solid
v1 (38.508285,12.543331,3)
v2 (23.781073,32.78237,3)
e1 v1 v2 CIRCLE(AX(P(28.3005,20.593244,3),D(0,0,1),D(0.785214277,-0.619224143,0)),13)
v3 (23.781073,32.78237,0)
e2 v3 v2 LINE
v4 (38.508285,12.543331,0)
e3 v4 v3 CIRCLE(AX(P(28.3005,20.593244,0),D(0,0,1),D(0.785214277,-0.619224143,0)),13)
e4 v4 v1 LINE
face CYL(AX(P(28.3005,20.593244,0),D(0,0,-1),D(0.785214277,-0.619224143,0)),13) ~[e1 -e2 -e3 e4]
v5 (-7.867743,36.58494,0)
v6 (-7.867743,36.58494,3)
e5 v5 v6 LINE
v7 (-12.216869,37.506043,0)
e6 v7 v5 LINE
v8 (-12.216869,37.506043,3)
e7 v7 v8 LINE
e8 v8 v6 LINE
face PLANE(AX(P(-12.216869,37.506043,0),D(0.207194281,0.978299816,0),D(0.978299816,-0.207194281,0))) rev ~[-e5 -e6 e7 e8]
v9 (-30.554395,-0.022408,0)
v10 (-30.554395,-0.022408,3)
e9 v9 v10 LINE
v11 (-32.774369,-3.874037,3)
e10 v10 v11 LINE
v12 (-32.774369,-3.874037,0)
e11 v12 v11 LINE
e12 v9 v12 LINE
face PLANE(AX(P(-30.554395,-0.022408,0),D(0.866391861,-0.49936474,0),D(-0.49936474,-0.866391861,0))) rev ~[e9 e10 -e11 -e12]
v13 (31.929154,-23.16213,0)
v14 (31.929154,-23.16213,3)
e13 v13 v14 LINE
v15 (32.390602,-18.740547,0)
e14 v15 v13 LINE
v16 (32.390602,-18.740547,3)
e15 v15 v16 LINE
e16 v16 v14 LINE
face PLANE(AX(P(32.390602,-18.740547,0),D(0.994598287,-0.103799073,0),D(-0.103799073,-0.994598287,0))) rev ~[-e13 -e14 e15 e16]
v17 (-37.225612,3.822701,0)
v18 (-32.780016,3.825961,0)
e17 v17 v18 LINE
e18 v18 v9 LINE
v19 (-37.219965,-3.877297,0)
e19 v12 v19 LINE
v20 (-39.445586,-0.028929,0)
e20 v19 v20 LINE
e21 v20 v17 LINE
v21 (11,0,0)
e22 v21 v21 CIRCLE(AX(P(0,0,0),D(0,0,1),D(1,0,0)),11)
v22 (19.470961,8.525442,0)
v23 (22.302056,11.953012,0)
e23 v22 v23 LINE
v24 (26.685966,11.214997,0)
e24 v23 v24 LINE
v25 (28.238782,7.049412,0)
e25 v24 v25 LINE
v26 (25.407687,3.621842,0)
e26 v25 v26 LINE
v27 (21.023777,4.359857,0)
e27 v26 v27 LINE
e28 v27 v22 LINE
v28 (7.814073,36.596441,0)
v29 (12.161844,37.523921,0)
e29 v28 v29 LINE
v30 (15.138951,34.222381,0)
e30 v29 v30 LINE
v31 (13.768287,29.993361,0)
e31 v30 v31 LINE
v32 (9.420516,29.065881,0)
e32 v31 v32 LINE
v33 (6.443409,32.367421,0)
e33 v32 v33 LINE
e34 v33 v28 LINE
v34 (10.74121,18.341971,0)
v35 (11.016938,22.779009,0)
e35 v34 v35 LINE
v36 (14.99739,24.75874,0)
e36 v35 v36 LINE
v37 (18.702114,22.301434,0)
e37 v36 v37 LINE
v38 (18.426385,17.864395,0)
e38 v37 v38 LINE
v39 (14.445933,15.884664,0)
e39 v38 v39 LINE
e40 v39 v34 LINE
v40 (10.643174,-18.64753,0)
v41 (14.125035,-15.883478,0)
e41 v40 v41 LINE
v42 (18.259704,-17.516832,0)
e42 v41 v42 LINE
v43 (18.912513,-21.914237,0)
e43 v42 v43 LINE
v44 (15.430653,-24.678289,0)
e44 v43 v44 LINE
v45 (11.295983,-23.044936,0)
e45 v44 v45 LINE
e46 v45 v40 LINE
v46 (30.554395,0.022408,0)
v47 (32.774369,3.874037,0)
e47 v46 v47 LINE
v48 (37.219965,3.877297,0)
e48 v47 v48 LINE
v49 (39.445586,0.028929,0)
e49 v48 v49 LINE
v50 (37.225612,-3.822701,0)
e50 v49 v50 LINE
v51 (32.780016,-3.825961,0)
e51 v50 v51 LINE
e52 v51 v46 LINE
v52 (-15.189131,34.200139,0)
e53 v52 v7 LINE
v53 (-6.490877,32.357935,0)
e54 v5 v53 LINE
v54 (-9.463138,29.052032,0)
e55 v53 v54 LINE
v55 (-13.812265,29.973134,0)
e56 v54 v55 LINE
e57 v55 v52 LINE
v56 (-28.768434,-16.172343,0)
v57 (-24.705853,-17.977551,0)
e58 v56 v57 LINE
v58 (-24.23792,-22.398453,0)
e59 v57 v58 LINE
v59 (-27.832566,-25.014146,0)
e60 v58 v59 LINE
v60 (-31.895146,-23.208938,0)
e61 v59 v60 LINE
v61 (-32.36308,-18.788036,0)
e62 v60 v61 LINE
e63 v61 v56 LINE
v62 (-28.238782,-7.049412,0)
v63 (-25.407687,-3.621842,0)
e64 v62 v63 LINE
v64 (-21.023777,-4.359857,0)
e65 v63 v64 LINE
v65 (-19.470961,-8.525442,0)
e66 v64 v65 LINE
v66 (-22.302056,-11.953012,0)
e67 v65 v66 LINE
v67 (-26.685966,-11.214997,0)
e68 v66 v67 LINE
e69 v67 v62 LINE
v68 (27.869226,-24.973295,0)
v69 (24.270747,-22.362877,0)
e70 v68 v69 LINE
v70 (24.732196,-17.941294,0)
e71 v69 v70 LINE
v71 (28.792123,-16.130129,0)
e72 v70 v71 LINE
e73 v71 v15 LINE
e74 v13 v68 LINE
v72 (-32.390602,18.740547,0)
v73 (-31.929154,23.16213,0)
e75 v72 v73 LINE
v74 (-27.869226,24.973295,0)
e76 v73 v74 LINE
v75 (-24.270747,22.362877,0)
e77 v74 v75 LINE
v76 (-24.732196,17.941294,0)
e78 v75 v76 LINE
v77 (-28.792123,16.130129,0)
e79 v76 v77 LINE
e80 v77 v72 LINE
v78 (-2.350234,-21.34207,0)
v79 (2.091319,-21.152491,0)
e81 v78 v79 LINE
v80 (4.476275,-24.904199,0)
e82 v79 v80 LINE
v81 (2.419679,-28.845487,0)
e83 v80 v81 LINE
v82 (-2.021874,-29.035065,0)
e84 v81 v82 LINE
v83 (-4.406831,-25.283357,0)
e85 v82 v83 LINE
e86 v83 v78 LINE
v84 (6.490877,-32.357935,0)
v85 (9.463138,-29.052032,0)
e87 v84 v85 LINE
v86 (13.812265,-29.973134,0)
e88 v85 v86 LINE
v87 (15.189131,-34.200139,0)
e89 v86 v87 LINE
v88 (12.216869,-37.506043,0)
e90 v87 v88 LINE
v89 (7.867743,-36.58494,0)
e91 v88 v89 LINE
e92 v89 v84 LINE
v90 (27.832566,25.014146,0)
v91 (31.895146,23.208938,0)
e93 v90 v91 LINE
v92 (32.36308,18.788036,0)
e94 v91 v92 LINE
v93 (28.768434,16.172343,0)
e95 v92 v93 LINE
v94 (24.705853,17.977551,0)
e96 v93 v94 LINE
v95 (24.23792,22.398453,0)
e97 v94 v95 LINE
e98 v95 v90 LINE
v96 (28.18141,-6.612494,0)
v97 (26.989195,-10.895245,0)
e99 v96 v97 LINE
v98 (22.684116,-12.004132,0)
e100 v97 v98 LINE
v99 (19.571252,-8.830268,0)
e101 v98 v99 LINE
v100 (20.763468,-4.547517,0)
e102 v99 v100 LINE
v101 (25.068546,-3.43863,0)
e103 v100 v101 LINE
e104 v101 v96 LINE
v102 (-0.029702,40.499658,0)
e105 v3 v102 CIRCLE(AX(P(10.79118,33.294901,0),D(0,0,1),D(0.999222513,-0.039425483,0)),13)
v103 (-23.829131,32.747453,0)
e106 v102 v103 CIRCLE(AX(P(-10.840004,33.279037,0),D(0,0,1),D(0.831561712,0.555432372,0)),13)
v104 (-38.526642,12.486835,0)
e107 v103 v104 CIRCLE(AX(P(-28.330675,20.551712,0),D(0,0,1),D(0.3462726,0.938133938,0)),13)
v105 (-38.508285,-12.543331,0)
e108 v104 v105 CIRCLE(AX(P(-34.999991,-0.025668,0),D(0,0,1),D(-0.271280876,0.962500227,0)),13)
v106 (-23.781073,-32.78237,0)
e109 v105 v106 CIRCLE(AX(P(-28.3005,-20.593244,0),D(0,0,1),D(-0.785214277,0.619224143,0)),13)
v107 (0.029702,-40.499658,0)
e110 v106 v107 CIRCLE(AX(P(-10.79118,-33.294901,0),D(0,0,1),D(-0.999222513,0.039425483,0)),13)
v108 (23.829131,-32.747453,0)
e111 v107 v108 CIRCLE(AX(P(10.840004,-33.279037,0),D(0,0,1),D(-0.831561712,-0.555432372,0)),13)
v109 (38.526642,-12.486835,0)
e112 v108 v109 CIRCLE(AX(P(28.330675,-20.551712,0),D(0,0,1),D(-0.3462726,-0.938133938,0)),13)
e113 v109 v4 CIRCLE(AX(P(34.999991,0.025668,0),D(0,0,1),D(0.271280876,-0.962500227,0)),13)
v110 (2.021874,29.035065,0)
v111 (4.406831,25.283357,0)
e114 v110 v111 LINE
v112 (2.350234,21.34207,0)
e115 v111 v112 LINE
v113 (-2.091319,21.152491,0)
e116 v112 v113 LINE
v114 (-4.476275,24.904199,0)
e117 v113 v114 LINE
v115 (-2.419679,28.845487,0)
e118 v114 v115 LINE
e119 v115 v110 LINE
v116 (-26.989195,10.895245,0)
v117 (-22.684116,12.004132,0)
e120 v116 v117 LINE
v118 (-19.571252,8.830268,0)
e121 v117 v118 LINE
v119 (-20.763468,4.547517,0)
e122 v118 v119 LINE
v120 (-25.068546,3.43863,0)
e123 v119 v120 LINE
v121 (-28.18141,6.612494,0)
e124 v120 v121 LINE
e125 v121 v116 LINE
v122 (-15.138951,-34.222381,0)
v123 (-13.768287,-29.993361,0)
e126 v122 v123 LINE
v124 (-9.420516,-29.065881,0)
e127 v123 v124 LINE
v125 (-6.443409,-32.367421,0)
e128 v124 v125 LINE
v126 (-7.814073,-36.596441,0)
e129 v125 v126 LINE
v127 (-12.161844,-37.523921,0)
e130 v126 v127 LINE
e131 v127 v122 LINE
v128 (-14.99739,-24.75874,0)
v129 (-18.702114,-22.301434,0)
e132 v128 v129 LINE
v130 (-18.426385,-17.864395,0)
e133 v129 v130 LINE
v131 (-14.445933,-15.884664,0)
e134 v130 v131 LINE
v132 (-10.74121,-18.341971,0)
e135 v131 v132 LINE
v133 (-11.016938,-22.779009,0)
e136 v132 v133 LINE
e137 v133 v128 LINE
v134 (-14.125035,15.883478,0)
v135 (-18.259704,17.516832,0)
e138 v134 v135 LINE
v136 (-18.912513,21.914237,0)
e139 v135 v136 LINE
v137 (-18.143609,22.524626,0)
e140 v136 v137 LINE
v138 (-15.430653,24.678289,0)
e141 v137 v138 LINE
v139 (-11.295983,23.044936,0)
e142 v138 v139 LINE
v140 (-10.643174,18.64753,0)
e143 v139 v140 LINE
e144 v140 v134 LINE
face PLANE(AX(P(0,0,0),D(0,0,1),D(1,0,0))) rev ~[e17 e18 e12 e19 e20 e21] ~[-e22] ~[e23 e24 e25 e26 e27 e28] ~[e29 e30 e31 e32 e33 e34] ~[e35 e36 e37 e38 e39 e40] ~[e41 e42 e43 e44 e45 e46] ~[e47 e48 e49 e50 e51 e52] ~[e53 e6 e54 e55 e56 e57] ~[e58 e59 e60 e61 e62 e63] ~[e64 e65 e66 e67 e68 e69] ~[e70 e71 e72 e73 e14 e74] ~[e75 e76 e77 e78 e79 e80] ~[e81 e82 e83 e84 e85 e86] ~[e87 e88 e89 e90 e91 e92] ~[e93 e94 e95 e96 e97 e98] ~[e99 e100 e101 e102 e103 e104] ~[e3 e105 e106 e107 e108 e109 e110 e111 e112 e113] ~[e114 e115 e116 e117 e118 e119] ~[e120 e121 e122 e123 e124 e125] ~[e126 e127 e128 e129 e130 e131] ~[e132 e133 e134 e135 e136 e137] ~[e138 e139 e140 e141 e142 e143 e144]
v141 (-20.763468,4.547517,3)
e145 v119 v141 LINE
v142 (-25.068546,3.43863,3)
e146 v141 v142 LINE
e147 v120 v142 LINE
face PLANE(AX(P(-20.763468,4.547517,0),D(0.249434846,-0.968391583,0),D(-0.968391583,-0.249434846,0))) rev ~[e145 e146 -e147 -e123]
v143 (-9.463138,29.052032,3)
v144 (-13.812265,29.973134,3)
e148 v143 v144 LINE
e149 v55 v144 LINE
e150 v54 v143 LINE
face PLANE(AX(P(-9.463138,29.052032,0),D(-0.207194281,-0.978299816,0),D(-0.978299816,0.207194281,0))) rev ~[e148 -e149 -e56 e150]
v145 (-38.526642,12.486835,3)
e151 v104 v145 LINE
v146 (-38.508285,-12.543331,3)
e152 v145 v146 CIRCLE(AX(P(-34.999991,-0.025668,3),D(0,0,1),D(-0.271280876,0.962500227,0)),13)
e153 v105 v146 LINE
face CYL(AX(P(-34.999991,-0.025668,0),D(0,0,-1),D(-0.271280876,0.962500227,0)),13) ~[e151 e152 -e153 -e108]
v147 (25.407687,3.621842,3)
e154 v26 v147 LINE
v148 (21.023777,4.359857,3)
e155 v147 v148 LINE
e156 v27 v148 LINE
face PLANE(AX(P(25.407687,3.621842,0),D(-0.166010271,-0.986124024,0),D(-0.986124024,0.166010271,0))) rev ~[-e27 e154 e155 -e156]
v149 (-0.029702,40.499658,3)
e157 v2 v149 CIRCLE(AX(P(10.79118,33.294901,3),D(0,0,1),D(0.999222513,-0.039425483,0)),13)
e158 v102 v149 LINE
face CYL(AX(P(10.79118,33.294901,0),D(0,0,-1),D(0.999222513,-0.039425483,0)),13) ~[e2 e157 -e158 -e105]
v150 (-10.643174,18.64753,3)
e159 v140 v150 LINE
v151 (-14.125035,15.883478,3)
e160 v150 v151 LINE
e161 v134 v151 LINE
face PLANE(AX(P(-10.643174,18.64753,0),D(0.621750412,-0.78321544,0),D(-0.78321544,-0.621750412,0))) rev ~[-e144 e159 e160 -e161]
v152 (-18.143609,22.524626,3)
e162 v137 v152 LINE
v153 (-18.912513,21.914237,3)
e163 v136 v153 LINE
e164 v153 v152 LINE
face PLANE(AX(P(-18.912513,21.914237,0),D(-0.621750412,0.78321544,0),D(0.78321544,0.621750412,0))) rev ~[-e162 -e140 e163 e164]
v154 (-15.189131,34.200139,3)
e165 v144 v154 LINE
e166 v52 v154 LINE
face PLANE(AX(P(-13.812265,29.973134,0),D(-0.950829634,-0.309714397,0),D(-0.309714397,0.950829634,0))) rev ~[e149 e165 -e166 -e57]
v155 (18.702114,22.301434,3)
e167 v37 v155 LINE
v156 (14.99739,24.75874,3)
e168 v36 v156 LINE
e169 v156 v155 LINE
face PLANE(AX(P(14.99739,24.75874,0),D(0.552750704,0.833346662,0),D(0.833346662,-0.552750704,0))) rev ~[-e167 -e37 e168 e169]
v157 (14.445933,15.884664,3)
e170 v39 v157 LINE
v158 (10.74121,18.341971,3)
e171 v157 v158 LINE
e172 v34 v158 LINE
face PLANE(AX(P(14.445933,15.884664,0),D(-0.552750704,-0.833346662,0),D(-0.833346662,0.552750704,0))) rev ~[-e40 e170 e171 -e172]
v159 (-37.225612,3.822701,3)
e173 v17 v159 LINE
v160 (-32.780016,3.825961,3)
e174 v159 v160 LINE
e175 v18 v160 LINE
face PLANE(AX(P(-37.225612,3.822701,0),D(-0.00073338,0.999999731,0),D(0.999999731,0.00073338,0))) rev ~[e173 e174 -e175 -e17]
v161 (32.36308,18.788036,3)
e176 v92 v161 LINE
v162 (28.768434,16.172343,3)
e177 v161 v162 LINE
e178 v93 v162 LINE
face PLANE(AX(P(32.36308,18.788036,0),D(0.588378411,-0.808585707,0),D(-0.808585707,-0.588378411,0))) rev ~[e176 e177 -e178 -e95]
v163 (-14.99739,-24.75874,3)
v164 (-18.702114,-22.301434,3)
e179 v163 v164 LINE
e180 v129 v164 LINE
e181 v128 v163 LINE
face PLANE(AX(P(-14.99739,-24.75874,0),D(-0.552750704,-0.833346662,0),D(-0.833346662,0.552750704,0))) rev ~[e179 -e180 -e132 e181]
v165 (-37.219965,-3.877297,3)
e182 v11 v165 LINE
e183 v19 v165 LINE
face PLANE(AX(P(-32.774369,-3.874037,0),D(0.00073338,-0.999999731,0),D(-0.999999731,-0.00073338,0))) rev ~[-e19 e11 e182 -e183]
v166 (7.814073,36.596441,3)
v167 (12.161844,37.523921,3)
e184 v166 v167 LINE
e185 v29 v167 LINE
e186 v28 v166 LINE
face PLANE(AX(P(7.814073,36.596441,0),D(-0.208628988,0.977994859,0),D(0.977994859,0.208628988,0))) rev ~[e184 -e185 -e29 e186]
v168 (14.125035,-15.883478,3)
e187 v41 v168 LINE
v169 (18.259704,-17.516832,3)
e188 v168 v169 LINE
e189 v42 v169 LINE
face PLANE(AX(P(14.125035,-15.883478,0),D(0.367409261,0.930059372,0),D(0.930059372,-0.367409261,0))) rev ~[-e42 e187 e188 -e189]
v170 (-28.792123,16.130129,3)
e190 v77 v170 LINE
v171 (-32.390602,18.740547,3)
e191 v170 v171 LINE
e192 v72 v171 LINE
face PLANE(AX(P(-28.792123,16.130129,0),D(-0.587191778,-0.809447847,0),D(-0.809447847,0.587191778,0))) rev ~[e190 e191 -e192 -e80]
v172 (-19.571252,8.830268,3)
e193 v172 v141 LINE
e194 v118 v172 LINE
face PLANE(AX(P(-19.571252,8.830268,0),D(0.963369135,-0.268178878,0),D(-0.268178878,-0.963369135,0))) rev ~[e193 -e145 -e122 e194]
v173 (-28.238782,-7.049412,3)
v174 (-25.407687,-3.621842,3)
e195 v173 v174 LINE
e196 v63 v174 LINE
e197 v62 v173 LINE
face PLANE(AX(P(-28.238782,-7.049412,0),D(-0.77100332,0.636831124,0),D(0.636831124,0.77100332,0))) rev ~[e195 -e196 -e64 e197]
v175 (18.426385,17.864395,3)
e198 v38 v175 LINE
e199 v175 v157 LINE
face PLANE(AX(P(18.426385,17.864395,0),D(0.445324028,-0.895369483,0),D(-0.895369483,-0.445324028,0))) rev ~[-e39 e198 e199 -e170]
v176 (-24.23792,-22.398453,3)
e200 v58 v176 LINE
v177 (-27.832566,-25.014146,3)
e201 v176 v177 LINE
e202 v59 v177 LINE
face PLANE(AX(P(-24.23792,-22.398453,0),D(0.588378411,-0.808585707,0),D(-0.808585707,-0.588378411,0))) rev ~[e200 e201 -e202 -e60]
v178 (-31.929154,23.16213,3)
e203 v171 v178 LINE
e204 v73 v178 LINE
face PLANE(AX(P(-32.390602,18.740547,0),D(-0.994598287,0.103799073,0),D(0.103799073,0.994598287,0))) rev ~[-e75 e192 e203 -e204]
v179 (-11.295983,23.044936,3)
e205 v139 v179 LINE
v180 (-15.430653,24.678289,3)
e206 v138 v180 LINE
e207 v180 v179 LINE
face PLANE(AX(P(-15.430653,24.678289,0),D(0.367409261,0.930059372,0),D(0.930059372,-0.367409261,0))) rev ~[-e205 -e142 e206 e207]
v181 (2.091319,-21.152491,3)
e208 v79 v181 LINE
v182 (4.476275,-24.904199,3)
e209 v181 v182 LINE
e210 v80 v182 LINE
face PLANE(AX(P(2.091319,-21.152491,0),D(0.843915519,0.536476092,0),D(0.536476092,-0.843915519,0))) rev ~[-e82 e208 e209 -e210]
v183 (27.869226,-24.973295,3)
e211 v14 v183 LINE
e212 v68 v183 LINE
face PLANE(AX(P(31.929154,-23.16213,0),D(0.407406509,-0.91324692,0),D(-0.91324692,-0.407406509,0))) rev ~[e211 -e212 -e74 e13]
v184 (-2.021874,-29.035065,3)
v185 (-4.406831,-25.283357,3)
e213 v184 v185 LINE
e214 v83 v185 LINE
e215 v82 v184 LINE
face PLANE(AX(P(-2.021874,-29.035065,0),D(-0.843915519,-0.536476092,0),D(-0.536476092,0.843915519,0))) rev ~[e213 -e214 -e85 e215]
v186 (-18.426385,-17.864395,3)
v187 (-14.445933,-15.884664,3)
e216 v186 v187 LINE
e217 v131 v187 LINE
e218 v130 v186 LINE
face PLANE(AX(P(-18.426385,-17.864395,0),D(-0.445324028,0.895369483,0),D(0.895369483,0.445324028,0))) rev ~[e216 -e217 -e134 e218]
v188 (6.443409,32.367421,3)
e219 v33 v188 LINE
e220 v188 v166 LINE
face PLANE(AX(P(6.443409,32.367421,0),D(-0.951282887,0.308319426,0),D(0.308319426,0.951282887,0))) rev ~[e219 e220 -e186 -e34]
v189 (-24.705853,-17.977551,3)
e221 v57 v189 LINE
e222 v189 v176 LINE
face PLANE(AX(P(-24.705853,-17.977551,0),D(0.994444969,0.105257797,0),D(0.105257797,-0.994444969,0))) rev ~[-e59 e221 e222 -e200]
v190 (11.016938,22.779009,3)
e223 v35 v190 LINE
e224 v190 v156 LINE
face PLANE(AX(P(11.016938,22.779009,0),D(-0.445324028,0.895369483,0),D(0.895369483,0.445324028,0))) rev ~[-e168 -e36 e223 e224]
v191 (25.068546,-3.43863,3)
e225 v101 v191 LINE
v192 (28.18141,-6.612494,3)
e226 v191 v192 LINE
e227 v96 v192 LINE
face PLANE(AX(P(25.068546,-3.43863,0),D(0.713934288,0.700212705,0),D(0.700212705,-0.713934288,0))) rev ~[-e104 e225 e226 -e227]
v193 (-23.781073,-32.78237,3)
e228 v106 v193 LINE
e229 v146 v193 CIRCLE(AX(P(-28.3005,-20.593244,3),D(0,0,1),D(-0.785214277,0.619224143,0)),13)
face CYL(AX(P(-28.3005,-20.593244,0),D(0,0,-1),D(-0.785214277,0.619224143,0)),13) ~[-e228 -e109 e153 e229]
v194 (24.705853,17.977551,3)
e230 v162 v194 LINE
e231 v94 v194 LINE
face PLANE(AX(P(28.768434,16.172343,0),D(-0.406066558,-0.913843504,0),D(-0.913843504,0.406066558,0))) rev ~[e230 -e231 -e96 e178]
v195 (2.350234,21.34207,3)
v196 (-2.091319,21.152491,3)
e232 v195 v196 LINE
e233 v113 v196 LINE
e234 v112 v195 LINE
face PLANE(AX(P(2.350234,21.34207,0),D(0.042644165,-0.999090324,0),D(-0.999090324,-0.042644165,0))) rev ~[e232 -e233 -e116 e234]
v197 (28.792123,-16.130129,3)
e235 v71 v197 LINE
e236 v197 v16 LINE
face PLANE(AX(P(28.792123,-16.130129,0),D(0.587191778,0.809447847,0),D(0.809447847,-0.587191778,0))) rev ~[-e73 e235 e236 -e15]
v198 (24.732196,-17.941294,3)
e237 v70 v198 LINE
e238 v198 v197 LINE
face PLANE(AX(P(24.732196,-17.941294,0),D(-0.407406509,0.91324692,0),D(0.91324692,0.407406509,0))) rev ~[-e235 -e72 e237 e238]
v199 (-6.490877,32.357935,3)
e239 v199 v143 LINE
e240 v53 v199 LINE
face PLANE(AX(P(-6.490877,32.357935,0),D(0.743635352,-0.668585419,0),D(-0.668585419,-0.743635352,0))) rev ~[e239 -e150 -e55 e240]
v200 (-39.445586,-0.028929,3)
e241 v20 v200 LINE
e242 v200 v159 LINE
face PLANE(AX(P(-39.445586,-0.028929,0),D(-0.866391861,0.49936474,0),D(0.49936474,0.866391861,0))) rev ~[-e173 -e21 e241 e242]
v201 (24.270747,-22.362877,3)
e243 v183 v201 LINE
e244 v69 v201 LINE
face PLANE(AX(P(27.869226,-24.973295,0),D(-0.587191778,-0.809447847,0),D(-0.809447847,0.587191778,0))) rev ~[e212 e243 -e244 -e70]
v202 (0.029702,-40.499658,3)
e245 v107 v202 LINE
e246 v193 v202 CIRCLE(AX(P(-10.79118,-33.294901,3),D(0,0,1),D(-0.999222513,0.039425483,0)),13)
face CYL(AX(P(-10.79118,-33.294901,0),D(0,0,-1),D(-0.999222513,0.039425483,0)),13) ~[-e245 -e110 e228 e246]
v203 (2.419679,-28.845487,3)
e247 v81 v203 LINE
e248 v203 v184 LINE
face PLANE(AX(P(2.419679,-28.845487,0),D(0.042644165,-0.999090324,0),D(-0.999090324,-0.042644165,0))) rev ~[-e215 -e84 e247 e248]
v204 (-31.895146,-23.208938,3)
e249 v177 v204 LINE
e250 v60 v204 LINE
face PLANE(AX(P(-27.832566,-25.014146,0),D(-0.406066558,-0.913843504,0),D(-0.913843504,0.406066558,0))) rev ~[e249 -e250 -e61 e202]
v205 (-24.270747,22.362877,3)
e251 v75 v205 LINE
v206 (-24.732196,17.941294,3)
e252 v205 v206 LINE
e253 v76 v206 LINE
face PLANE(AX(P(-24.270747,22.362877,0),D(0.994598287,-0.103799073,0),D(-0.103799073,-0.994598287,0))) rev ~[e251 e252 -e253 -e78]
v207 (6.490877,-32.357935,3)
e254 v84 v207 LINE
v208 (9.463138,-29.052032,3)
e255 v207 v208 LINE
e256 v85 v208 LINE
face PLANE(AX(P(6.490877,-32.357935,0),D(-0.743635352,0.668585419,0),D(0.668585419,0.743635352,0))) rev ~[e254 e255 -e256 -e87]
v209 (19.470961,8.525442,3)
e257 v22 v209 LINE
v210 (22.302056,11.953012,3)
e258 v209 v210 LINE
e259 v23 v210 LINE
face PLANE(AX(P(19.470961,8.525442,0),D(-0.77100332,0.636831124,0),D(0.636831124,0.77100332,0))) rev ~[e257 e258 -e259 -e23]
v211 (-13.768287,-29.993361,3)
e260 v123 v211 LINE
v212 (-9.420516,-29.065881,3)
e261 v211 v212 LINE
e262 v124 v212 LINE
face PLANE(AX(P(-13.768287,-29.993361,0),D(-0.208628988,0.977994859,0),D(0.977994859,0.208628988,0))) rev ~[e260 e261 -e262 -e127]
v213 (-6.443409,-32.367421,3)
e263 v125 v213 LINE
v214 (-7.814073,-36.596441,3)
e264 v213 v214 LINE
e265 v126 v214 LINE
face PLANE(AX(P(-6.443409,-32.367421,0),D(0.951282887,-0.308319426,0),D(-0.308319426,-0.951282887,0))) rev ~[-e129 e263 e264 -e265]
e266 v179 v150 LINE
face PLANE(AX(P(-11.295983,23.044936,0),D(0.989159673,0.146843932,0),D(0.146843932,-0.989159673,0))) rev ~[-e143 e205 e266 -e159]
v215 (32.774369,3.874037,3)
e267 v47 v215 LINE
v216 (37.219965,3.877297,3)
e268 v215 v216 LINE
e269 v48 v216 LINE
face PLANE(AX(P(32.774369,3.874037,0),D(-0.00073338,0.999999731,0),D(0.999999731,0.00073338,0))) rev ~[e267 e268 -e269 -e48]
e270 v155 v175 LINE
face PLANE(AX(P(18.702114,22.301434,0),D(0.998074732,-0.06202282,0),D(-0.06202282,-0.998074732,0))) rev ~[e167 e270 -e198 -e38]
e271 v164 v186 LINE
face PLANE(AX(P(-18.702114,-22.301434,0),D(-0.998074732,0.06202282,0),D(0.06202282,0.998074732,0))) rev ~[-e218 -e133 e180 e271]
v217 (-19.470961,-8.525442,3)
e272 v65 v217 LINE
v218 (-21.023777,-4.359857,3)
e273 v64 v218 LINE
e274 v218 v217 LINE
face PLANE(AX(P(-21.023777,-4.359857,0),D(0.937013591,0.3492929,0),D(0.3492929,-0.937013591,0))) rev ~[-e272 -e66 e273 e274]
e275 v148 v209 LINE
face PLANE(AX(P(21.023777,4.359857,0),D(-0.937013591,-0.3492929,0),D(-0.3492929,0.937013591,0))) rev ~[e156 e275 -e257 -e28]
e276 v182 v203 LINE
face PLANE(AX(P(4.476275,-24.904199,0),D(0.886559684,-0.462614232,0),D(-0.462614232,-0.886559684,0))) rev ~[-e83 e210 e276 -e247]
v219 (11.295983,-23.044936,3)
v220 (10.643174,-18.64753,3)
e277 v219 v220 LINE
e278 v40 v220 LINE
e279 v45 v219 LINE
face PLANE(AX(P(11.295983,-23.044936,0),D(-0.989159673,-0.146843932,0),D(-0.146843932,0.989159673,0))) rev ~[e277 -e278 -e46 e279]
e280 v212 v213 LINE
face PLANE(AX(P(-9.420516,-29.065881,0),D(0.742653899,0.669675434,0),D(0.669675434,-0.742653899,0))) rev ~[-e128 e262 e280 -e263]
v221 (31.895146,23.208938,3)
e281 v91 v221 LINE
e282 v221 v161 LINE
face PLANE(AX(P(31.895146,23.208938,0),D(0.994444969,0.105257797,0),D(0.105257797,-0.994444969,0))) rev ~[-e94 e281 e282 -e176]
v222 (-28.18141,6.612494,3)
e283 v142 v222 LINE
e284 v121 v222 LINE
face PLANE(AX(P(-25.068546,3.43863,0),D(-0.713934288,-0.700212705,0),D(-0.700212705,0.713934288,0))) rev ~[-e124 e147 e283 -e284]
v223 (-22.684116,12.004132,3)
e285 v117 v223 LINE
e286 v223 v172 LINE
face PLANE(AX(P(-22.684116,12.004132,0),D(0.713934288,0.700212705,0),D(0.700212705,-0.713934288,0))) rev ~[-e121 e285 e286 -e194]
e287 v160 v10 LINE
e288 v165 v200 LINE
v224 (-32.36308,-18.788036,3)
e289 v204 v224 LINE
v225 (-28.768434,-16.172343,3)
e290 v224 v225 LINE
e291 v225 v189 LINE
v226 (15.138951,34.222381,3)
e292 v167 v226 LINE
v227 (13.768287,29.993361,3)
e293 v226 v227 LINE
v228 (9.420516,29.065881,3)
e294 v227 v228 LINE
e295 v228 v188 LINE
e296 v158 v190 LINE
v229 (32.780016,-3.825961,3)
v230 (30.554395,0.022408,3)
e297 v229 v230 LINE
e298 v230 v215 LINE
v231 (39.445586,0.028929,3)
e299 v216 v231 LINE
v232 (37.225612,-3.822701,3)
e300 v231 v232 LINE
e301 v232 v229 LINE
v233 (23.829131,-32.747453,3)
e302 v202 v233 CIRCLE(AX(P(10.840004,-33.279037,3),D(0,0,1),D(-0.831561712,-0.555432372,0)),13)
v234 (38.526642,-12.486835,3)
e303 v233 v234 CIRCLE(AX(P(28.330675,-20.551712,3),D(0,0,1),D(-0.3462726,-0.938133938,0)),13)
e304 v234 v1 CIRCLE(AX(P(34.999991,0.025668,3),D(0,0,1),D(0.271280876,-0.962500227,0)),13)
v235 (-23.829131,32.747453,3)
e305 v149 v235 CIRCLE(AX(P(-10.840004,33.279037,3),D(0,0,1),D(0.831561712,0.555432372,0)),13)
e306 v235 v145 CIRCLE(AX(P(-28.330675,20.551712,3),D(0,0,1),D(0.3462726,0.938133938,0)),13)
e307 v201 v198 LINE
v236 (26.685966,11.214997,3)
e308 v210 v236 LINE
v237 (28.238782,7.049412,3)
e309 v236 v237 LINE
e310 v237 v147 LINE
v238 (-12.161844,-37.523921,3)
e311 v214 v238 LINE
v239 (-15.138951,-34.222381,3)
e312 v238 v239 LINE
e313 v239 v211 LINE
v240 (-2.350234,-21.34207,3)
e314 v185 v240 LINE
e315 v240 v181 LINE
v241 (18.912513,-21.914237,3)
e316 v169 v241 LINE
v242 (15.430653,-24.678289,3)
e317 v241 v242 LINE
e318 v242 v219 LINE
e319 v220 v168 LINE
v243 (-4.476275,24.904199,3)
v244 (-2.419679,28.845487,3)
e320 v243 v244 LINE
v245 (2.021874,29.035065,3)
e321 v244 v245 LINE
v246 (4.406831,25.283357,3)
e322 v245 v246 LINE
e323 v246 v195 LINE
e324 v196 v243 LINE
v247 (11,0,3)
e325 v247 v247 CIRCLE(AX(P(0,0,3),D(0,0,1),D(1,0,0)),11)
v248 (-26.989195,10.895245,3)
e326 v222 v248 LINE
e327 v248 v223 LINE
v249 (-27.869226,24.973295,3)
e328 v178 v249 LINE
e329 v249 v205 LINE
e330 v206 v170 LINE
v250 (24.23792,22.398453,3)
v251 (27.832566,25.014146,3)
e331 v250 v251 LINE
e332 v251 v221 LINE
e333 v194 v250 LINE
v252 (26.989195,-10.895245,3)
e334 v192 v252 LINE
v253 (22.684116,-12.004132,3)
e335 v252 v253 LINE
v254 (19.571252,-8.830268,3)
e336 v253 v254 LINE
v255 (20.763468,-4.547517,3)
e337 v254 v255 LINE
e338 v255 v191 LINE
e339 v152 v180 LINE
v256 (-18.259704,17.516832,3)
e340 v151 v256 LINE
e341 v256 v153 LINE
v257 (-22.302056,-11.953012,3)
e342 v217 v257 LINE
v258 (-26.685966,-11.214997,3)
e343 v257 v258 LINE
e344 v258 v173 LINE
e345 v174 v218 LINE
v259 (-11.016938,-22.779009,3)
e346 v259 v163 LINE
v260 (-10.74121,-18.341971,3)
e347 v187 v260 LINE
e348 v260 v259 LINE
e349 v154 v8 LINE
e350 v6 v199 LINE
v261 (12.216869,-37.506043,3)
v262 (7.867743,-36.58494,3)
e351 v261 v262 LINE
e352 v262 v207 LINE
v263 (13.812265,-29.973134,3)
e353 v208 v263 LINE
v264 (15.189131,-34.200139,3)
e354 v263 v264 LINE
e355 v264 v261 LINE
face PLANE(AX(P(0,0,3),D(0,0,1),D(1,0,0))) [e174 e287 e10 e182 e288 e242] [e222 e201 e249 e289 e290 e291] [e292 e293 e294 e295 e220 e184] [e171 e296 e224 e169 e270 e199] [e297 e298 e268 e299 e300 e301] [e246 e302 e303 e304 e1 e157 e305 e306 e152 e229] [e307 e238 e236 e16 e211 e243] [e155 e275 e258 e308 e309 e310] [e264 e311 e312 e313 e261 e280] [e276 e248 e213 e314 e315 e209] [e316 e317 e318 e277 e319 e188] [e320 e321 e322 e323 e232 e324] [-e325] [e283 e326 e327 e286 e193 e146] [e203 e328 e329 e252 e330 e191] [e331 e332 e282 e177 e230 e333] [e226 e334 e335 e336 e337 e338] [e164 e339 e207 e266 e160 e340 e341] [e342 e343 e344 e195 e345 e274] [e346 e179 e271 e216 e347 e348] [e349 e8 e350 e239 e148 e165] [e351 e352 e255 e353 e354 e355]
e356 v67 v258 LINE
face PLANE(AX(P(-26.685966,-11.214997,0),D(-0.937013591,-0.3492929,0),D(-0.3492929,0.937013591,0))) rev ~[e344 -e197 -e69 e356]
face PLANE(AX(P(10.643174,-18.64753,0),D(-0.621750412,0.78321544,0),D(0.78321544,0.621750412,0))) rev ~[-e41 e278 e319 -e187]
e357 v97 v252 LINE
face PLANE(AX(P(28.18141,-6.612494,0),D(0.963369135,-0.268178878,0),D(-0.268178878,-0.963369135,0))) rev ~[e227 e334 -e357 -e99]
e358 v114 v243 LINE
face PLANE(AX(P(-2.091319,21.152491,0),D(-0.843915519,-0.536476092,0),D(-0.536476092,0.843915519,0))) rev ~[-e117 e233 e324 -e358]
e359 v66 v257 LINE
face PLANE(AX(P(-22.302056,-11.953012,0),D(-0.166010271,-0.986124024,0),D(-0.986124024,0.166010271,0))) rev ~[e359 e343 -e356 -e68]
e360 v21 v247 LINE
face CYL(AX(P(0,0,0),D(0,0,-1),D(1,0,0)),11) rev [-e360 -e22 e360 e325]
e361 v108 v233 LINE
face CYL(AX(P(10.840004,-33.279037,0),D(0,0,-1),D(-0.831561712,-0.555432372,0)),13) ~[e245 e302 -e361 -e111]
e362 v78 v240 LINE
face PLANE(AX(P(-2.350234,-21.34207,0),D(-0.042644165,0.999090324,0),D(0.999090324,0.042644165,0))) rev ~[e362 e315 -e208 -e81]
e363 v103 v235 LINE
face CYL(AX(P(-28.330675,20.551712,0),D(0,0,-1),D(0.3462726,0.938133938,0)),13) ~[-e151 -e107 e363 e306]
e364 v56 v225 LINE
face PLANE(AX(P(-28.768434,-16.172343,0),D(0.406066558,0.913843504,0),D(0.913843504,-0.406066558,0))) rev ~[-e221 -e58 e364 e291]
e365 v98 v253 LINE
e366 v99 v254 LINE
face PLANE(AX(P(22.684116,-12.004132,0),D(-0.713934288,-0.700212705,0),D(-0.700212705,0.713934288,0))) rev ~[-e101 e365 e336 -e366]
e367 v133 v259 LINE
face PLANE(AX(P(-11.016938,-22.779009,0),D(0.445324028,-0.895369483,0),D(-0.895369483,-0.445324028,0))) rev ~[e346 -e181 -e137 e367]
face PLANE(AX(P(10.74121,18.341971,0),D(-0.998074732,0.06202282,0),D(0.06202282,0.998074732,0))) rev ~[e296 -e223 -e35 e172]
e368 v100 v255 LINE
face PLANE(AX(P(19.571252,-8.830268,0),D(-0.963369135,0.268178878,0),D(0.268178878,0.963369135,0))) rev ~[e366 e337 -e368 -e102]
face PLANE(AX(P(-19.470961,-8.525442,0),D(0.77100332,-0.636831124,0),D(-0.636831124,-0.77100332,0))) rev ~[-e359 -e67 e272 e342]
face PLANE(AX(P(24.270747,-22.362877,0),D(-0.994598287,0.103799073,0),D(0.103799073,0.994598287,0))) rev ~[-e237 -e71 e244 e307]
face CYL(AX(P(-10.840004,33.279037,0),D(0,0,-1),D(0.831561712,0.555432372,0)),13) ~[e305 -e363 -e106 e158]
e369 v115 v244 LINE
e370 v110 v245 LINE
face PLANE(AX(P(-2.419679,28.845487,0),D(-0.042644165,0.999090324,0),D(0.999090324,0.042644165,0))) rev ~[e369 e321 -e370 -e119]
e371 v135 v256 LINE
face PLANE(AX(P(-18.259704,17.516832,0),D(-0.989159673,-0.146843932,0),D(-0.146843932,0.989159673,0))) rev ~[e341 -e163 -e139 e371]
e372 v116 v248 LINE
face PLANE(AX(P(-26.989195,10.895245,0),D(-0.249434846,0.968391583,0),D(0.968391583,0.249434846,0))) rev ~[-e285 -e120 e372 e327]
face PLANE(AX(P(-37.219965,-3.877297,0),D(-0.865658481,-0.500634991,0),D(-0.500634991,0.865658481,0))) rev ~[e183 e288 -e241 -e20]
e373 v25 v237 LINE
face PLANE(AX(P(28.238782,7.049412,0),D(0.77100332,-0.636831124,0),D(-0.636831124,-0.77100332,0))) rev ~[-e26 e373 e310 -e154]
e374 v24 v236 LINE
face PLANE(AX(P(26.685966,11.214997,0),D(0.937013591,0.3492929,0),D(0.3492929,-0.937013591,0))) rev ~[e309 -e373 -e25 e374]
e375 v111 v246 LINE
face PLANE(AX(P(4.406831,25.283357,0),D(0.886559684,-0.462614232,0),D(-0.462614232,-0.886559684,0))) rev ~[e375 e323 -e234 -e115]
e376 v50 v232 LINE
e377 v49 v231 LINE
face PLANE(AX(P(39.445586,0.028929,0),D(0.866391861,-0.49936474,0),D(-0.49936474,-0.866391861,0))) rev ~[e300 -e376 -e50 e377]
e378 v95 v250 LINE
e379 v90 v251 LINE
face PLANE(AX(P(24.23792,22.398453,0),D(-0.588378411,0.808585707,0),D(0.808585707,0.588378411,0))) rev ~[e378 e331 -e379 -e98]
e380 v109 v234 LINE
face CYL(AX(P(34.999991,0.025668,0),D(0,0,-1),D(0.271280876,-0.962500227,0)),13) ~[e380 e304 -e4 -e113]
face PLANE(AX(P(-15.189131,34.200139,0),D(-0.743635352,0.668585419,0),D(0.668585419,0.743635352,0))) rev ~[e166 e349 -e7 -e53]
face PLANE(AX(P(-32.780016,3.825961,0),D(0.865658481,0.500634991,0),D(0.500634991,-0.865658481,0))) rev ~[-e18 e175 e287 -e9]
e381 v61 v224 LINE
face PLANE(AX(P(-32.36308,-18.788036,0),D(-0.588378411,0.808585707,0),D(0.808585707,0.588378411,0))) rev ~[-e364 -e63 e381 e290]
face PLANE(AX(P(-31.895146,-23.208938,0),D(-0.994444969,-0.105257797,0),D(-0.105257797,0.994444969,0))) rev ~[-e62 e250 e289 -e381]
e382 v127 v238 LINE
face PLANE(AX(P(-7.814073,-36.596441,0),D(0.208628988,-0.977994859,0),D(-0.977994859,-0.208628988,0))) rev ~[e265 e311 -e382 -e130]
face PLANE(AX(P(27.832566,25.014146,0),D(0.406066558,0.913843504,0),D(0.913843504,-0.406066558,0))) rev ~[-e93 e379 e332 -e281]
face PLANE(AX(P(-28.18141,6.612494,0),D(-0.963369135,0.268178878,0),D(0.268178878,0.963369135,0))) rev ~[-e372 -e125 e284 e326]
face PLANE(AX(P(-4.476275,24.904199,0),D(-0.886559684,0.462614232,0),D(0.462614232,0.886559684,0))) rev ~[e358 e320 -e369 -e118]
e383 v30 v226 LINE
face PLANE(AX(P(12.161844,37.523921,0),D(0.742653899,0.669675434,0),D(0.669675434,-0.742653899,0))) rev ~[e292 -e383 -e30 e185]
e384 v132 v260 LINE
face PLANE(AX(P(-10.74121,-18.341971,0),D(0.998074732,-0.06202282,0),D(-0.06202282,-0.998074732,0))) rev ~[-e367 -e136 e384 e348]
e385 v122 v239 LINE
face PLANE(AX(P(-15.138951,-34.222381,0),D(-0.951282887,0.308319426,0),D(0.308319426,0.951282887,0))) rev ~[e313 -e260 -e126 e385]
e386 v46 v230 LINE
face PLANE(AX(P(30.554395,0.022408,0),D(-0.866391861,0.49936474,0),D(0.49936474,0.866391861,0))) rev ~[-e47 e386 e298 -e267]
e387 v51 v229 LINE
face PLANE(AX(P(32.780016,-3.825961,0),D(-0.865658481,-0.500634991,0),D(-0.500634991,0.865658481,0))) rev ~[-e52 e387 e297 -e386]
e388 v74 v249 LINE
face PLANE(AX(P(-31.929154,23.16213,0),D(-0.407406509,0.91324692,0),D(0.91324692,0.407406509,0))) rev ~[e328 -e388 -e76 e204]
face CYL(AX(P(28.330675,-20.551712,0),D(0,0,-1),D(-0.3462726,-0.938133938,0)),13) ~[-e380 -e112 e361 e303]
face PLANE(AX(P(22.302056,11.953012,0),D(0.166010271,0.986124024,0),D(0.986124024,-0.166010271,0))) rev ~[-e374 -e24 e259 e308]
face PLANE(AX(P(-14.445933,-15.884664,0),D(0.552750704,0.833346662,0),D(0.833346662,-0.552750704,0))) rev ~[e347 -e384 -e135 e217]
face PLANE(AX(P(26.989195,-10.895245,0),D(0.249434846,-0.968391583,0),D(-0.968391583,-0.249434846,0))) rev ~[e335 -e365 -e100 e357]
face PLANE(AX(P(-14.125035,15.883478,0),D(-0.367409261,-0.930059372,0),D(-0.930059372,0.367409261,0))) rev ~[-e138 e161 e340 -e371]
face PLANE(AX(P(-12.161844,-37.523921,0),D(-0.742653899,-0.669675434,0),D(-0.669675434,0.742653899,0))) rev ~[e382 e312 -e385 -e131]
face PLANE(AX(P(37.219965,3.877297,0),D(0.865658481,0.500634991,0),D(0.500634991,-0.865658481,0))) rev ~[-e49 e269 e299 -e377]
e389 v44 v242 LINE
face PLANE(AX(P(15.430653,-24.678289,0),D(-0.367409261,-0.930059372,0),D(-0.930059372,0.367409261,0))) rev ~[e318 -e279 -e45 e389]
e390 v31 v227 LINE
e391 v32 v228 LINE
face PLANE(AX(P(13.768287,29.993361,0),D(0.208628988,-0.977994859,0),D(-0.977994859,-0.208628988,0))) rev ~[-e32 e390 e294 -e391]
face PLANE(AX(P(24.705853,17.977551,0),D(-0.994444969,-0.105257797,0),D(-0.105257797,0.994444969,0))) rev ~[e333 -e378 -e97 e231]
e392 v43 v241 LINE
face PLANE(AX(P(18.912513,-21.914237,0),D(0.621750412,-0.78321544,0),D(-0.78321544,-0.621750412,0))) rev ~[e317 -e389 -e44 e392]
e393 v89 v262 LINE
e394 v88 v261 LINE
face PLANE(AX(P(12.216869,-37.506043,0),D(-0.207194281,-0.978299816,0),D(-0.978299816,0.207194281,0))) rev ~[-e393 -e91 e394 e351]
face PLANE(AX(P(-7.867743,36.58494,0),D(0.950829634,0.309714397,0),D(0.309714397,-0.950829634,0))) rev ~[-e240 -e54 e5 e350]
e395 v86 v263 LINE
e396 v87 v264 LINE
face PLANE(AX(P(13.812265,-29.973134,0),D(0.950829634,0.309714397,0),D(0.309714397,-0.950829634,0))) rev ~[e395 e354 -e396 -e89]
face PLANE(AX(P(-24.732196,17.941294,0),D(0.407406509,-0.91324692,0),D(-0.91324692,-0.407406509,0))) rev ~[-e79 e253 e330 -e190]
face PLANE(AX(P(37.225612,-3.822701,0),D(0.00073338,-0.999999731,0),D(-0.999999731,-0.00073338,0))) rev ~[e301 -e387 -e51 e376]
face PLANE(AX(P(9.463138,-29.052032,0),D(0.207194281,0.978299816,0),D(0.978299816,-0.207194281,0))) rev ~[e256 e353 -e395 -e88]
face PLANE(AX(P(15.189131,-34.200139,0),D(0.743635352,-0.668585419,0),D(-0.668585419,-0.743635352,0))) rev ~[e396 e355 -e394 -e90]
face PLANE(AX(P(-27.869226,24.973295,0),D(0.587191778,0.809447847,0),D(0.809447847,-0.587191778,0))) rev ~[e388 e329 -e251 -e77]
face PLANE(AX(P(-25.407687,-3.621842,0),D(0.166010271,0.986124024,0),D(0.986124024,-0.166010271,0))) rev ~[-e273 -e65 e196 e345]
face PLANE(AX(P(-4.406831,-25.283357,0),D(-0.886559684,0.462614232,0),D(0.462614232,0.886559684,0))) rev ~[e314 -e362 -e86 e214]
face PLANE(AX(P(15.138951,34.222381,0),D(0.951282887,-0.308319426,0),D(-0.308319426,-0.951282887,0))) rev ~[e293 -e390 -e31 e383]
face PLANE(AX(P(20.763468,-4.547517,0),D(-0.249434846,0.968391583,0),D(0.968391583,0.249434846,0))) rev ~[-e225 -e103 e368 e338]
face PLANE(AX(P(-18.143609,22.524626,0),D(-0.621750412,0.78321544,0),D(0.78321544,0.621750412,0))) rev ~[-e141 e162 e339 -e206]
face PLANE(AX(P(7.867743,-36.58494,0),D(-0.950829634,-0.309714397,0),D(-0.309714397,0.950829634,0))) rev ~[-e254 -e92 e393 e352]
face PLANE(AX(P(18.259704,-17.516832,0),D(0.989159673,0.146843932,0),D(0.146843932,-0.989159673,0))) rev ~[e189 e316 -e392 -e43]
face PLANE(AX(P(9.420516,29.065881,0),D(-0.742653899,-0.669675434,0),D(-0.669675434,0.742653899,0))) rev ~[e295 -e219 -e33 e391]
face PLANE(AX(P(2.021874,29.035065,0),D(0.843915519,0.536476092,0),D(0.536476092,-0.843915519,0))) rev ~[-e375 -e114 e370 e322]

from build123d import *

# Parameters (mm, degrees)
F0_R     = 11
F1_DEPTH = 3


with BuildPart() as f1:
    # F0 (on Top) → F1 (new body)
    with BuildSketch(Plane.XY):
        with BuildLine():
            ThreePointArc((23.7810725764, 32.7823697802), (14.799332437, 45.661578591), (-0.0297016333, 40.4996580122))
            ThreePointArc((-0.0297016333, 40.4996580122), (-14.8662910452, 45.6398224203), (-23.8291308285, 32.7474534162))
            ThreePointArc((-23.8291308285, 32.7474534162), (-38.8534966348, 28.1852053257), (-38.5266419697, 12.4868346603))
            ThreePointArc((-38.5266419697, 12.4868346603), (-47.9999870917, -0.0352022235), (-38.5082853508, -12.543330524))
            ThreePointArc((-38.5082853508, -12.543330524), (-38.8121139391, -28.2421637198), (-23.7810725764, -32.7823697802))
            ThreePointArc((-23.7810725764, -32.7823697802), (-14.799332437, -45.661578591), (0.0297016333, -40.4996580122))
            ThreePointArc((0.0297016333, -40.4996580122), (14.8662910452, -45.6398224203), (23.8291308285, -32.7474534162))
            ThreePointArc((23.8291308285, -32.7474534162), (38.8534966348, -28.1852053257), (38.5266419697, -12.4868346603))
            ThreePointArc((38.5266419697, -12.4868346603), (47.9999870917, 0.0352022235), (38.5082853508, 12.543330524))
            ThreePointArc((38.5082853508, 12.543330524), (38.8121139391, 28.2421637198), (23.7810725764, 32.7823697802))
        make_face()
        Polygon((-9.4205159653, -29.0658806367), (-6.4434088175, -32.3674206355), (-7.8140727542, -36.5964410547), (-12.1618438387, -37.5239214751), (-15.1389509865, -34.2223814763), (-13.7682870498, -29.9933610571), align=None, mode=Mode.SUBTRACT)
        Polygon((-24.7058534949, -17.9775510382), (-24.2379197394, -22.3984526808), (-27.8325659918, -25.0141460217), (-31.8951459997, -23.2089377199), (-32.3630797552, -18.7880360772), (-28.7684335028, -16.1723427364), align=None, mode=Mode.SUBTRACT)
        Polygon((-30.5543947105, -0.0224079775), (-32.7743691374, -3.8740370974), (-37.2199650146, -3.8772974079), (-39.4455864649, -0.0289285984), (-37.225612038, 3.8227005214), (-32.7800161608, 3.8259608319), align=None, mode=Mode.SUBTRACT)
        Polygon((-14.445933389, -15.8846642147), (-10.7412099068, -18.3419711254), (-11.0169383754, -22.7790092304), (-14.9973903261, -24.7587404246), (-18.7021138083, -22.3014335138), (-18.4263853398, -17.8643954088), align=None, mode=Mode.SUBTRACT)
        Polygon((-21.0237769743, -4.3598566979), (-19.4709614803, -8.5254415758), (-22.3020560592, -11.95301168), (-26.685966132, -11.2149969062), (-28.2387816261, -7.0494120284), (-25.4076870472, -3.6218419242), align=None, mode=Mode.SUBTRACT)
        Polygon((9.4631384714, -29.052031745), (13.8122652692, -29.9731340357), (15.1891306849, -34.2001394722), (12.2168693028, -37.506042618), (7.867742505, -36.5849403273), (6.4908770893, -32.3579348908), align=None, mode=Mode.SUBTRACT)
        Polygon((-2.3502342483, -21.3420699013), (2.0913187707, -21.1524911258), (4.4762753158, -24.9041994849), (2.4196788418, -28.8454866194), (-2.0218741773, -29.0350653948), (-4.4068307223, -25.2833570358), align=None, mode=Mode.SUBTRACT)
        Polygon((10.6431744937, -18.6475302759), (14.1250347592, -15.8834784629), (18.2597039794, -17.5168319988), (18.912512934, -21.9142373476), (15.4306526685, -24.6782891606), (11.2959834483, -23.0449356247), align=None, mode=Mode.SUBTRACT)
        Polygon((19.5712523273, -8.8302678913), (20.7634675619, -4.5475168867), (25.0685463473, -3.4386300643), (28.1814098981, -6.6124942466), (26.9891946635, -10.8952452512), (22.6841158781, -12.0041320736), align=None, mode=Mode.SUBTRACT)
        Polygon((24.7321956523, -17.9412941689), (28.7921234848, -16.1301289835), (32.390602462, -18.7405470312), (31.9291536068, -23.1621302644), (27.8692257743, -24.9732954497), (24.2707467971, -22.362877402), align=None, mode=Mode.SUBTRACT)
        Polygon((-24.7321956523, 17.9412941689), (-28.7921234848, 16.1301289835), (-32.390602462, 18.7405470312), (-31.9291536068, 23.1621302644), (-27.8692257743, 24.9732954497), (-24.2707467971, 22.362877402), align=None, mode=Mode.SUBTRACT)
        Polygon((-19.5712523273, 8.8302678913), (-20.7634675619, 4.5475168867), (-25.0685463473, 3.4386300643), (-28.1814098981, 6.6124942466), (-26.9891946635, 10.8952452512), (-22.6841158781, 12.0041320736), align=None, mode=Mode.SUBTRACT)
        Circle(F0_R, mode=Mode.SUBTRACT)
        Polygon((-10.6431744937, 18.6475302759), (-14.1250347592, 15.8834784629), (-18.2597039794, 17.5168319988), (-18.912512934, 21.9142373476), (-18.143609215, 22.524626495), (-15.4306526685, 24.6782891606), (-11.2959834483, 23.0449356247), align=None, mode=Mode.SUBTRACT)
        Polygon((2.3502342483, 21.3420699013), (-2.0913187707, 21.1524911258), (-4.4762753158, 24.9041994849), (-2.4196788418, 28.8454866194), (2.0218741773, 29.0350653948), (4.4068307223, 25.2833570358), align=None, mode=Mode.SUBTRACT)
        Polygon((-9.4631384714, 29.052031745), (-13.8122652692, 29.9731340357), (-15.1891306849, 34.2001394722), (-12.2168693028, 37.506042618), (-7.867742505, 36.5849403273), (-6.4908770893, 32.3579348908), align=None, mode=Mode.SUBTRACT)
        Polygon((26.685966132, 11.2149969062), (28.2387816261, 7.0494120284), (25.4076870472, 3.6218419242), (21.0237769743, 4.3598566979), (19.4709614803, 8.5254415758), (22.3020560592, 11.95301168), align=None, mode=Mode.SUBTRACT)
        Polygon((14.445933389, 15.8846642147), (10.7412099068, 18.3419711254), (11.0169383754, 22.7790092304), (14.9973903261, 24.7587404246), (18.7021138083, 22.3014335138), (18.4263853398, 17.8643954088), align=None, mode=Mode.SUBTRACT)
        Polygon((39.4455864649, 0.0289285984), (37.225612038, -3.8227005214), (32.7800161608, -3.8259608319), (30.5543947105, 0.0224079775), (32.7743691374, 3.8740370974), (37.2199650146, 3.8772974079), align=None, mode=Mode.SUBTRACT)
        Polygon((24.7058534949, 17.9775510382), (24.2379197394, 22.3984526808), (27.8325659918, 25.0141460217), (31.8951459997, 23.2089377199), (32.3630797552, 18.7880360772), (28.7684335028, 16.1723427364), align=None, mode=Mode.SUBTRACT)
        Polygon((9.4205159653, 29.0658806367), (6.4434088175, 32.3674206355), (7.8140727542, 36.5964410547), (12.1618438387, 37.5239214751), (15.1389509865, 34.2223814763), (13.7682870498, 29.9933610571), align=None, mode=Mode.SUBTRACT)
    extrude(amount=F1_DEPTH)


solid = f1.part
